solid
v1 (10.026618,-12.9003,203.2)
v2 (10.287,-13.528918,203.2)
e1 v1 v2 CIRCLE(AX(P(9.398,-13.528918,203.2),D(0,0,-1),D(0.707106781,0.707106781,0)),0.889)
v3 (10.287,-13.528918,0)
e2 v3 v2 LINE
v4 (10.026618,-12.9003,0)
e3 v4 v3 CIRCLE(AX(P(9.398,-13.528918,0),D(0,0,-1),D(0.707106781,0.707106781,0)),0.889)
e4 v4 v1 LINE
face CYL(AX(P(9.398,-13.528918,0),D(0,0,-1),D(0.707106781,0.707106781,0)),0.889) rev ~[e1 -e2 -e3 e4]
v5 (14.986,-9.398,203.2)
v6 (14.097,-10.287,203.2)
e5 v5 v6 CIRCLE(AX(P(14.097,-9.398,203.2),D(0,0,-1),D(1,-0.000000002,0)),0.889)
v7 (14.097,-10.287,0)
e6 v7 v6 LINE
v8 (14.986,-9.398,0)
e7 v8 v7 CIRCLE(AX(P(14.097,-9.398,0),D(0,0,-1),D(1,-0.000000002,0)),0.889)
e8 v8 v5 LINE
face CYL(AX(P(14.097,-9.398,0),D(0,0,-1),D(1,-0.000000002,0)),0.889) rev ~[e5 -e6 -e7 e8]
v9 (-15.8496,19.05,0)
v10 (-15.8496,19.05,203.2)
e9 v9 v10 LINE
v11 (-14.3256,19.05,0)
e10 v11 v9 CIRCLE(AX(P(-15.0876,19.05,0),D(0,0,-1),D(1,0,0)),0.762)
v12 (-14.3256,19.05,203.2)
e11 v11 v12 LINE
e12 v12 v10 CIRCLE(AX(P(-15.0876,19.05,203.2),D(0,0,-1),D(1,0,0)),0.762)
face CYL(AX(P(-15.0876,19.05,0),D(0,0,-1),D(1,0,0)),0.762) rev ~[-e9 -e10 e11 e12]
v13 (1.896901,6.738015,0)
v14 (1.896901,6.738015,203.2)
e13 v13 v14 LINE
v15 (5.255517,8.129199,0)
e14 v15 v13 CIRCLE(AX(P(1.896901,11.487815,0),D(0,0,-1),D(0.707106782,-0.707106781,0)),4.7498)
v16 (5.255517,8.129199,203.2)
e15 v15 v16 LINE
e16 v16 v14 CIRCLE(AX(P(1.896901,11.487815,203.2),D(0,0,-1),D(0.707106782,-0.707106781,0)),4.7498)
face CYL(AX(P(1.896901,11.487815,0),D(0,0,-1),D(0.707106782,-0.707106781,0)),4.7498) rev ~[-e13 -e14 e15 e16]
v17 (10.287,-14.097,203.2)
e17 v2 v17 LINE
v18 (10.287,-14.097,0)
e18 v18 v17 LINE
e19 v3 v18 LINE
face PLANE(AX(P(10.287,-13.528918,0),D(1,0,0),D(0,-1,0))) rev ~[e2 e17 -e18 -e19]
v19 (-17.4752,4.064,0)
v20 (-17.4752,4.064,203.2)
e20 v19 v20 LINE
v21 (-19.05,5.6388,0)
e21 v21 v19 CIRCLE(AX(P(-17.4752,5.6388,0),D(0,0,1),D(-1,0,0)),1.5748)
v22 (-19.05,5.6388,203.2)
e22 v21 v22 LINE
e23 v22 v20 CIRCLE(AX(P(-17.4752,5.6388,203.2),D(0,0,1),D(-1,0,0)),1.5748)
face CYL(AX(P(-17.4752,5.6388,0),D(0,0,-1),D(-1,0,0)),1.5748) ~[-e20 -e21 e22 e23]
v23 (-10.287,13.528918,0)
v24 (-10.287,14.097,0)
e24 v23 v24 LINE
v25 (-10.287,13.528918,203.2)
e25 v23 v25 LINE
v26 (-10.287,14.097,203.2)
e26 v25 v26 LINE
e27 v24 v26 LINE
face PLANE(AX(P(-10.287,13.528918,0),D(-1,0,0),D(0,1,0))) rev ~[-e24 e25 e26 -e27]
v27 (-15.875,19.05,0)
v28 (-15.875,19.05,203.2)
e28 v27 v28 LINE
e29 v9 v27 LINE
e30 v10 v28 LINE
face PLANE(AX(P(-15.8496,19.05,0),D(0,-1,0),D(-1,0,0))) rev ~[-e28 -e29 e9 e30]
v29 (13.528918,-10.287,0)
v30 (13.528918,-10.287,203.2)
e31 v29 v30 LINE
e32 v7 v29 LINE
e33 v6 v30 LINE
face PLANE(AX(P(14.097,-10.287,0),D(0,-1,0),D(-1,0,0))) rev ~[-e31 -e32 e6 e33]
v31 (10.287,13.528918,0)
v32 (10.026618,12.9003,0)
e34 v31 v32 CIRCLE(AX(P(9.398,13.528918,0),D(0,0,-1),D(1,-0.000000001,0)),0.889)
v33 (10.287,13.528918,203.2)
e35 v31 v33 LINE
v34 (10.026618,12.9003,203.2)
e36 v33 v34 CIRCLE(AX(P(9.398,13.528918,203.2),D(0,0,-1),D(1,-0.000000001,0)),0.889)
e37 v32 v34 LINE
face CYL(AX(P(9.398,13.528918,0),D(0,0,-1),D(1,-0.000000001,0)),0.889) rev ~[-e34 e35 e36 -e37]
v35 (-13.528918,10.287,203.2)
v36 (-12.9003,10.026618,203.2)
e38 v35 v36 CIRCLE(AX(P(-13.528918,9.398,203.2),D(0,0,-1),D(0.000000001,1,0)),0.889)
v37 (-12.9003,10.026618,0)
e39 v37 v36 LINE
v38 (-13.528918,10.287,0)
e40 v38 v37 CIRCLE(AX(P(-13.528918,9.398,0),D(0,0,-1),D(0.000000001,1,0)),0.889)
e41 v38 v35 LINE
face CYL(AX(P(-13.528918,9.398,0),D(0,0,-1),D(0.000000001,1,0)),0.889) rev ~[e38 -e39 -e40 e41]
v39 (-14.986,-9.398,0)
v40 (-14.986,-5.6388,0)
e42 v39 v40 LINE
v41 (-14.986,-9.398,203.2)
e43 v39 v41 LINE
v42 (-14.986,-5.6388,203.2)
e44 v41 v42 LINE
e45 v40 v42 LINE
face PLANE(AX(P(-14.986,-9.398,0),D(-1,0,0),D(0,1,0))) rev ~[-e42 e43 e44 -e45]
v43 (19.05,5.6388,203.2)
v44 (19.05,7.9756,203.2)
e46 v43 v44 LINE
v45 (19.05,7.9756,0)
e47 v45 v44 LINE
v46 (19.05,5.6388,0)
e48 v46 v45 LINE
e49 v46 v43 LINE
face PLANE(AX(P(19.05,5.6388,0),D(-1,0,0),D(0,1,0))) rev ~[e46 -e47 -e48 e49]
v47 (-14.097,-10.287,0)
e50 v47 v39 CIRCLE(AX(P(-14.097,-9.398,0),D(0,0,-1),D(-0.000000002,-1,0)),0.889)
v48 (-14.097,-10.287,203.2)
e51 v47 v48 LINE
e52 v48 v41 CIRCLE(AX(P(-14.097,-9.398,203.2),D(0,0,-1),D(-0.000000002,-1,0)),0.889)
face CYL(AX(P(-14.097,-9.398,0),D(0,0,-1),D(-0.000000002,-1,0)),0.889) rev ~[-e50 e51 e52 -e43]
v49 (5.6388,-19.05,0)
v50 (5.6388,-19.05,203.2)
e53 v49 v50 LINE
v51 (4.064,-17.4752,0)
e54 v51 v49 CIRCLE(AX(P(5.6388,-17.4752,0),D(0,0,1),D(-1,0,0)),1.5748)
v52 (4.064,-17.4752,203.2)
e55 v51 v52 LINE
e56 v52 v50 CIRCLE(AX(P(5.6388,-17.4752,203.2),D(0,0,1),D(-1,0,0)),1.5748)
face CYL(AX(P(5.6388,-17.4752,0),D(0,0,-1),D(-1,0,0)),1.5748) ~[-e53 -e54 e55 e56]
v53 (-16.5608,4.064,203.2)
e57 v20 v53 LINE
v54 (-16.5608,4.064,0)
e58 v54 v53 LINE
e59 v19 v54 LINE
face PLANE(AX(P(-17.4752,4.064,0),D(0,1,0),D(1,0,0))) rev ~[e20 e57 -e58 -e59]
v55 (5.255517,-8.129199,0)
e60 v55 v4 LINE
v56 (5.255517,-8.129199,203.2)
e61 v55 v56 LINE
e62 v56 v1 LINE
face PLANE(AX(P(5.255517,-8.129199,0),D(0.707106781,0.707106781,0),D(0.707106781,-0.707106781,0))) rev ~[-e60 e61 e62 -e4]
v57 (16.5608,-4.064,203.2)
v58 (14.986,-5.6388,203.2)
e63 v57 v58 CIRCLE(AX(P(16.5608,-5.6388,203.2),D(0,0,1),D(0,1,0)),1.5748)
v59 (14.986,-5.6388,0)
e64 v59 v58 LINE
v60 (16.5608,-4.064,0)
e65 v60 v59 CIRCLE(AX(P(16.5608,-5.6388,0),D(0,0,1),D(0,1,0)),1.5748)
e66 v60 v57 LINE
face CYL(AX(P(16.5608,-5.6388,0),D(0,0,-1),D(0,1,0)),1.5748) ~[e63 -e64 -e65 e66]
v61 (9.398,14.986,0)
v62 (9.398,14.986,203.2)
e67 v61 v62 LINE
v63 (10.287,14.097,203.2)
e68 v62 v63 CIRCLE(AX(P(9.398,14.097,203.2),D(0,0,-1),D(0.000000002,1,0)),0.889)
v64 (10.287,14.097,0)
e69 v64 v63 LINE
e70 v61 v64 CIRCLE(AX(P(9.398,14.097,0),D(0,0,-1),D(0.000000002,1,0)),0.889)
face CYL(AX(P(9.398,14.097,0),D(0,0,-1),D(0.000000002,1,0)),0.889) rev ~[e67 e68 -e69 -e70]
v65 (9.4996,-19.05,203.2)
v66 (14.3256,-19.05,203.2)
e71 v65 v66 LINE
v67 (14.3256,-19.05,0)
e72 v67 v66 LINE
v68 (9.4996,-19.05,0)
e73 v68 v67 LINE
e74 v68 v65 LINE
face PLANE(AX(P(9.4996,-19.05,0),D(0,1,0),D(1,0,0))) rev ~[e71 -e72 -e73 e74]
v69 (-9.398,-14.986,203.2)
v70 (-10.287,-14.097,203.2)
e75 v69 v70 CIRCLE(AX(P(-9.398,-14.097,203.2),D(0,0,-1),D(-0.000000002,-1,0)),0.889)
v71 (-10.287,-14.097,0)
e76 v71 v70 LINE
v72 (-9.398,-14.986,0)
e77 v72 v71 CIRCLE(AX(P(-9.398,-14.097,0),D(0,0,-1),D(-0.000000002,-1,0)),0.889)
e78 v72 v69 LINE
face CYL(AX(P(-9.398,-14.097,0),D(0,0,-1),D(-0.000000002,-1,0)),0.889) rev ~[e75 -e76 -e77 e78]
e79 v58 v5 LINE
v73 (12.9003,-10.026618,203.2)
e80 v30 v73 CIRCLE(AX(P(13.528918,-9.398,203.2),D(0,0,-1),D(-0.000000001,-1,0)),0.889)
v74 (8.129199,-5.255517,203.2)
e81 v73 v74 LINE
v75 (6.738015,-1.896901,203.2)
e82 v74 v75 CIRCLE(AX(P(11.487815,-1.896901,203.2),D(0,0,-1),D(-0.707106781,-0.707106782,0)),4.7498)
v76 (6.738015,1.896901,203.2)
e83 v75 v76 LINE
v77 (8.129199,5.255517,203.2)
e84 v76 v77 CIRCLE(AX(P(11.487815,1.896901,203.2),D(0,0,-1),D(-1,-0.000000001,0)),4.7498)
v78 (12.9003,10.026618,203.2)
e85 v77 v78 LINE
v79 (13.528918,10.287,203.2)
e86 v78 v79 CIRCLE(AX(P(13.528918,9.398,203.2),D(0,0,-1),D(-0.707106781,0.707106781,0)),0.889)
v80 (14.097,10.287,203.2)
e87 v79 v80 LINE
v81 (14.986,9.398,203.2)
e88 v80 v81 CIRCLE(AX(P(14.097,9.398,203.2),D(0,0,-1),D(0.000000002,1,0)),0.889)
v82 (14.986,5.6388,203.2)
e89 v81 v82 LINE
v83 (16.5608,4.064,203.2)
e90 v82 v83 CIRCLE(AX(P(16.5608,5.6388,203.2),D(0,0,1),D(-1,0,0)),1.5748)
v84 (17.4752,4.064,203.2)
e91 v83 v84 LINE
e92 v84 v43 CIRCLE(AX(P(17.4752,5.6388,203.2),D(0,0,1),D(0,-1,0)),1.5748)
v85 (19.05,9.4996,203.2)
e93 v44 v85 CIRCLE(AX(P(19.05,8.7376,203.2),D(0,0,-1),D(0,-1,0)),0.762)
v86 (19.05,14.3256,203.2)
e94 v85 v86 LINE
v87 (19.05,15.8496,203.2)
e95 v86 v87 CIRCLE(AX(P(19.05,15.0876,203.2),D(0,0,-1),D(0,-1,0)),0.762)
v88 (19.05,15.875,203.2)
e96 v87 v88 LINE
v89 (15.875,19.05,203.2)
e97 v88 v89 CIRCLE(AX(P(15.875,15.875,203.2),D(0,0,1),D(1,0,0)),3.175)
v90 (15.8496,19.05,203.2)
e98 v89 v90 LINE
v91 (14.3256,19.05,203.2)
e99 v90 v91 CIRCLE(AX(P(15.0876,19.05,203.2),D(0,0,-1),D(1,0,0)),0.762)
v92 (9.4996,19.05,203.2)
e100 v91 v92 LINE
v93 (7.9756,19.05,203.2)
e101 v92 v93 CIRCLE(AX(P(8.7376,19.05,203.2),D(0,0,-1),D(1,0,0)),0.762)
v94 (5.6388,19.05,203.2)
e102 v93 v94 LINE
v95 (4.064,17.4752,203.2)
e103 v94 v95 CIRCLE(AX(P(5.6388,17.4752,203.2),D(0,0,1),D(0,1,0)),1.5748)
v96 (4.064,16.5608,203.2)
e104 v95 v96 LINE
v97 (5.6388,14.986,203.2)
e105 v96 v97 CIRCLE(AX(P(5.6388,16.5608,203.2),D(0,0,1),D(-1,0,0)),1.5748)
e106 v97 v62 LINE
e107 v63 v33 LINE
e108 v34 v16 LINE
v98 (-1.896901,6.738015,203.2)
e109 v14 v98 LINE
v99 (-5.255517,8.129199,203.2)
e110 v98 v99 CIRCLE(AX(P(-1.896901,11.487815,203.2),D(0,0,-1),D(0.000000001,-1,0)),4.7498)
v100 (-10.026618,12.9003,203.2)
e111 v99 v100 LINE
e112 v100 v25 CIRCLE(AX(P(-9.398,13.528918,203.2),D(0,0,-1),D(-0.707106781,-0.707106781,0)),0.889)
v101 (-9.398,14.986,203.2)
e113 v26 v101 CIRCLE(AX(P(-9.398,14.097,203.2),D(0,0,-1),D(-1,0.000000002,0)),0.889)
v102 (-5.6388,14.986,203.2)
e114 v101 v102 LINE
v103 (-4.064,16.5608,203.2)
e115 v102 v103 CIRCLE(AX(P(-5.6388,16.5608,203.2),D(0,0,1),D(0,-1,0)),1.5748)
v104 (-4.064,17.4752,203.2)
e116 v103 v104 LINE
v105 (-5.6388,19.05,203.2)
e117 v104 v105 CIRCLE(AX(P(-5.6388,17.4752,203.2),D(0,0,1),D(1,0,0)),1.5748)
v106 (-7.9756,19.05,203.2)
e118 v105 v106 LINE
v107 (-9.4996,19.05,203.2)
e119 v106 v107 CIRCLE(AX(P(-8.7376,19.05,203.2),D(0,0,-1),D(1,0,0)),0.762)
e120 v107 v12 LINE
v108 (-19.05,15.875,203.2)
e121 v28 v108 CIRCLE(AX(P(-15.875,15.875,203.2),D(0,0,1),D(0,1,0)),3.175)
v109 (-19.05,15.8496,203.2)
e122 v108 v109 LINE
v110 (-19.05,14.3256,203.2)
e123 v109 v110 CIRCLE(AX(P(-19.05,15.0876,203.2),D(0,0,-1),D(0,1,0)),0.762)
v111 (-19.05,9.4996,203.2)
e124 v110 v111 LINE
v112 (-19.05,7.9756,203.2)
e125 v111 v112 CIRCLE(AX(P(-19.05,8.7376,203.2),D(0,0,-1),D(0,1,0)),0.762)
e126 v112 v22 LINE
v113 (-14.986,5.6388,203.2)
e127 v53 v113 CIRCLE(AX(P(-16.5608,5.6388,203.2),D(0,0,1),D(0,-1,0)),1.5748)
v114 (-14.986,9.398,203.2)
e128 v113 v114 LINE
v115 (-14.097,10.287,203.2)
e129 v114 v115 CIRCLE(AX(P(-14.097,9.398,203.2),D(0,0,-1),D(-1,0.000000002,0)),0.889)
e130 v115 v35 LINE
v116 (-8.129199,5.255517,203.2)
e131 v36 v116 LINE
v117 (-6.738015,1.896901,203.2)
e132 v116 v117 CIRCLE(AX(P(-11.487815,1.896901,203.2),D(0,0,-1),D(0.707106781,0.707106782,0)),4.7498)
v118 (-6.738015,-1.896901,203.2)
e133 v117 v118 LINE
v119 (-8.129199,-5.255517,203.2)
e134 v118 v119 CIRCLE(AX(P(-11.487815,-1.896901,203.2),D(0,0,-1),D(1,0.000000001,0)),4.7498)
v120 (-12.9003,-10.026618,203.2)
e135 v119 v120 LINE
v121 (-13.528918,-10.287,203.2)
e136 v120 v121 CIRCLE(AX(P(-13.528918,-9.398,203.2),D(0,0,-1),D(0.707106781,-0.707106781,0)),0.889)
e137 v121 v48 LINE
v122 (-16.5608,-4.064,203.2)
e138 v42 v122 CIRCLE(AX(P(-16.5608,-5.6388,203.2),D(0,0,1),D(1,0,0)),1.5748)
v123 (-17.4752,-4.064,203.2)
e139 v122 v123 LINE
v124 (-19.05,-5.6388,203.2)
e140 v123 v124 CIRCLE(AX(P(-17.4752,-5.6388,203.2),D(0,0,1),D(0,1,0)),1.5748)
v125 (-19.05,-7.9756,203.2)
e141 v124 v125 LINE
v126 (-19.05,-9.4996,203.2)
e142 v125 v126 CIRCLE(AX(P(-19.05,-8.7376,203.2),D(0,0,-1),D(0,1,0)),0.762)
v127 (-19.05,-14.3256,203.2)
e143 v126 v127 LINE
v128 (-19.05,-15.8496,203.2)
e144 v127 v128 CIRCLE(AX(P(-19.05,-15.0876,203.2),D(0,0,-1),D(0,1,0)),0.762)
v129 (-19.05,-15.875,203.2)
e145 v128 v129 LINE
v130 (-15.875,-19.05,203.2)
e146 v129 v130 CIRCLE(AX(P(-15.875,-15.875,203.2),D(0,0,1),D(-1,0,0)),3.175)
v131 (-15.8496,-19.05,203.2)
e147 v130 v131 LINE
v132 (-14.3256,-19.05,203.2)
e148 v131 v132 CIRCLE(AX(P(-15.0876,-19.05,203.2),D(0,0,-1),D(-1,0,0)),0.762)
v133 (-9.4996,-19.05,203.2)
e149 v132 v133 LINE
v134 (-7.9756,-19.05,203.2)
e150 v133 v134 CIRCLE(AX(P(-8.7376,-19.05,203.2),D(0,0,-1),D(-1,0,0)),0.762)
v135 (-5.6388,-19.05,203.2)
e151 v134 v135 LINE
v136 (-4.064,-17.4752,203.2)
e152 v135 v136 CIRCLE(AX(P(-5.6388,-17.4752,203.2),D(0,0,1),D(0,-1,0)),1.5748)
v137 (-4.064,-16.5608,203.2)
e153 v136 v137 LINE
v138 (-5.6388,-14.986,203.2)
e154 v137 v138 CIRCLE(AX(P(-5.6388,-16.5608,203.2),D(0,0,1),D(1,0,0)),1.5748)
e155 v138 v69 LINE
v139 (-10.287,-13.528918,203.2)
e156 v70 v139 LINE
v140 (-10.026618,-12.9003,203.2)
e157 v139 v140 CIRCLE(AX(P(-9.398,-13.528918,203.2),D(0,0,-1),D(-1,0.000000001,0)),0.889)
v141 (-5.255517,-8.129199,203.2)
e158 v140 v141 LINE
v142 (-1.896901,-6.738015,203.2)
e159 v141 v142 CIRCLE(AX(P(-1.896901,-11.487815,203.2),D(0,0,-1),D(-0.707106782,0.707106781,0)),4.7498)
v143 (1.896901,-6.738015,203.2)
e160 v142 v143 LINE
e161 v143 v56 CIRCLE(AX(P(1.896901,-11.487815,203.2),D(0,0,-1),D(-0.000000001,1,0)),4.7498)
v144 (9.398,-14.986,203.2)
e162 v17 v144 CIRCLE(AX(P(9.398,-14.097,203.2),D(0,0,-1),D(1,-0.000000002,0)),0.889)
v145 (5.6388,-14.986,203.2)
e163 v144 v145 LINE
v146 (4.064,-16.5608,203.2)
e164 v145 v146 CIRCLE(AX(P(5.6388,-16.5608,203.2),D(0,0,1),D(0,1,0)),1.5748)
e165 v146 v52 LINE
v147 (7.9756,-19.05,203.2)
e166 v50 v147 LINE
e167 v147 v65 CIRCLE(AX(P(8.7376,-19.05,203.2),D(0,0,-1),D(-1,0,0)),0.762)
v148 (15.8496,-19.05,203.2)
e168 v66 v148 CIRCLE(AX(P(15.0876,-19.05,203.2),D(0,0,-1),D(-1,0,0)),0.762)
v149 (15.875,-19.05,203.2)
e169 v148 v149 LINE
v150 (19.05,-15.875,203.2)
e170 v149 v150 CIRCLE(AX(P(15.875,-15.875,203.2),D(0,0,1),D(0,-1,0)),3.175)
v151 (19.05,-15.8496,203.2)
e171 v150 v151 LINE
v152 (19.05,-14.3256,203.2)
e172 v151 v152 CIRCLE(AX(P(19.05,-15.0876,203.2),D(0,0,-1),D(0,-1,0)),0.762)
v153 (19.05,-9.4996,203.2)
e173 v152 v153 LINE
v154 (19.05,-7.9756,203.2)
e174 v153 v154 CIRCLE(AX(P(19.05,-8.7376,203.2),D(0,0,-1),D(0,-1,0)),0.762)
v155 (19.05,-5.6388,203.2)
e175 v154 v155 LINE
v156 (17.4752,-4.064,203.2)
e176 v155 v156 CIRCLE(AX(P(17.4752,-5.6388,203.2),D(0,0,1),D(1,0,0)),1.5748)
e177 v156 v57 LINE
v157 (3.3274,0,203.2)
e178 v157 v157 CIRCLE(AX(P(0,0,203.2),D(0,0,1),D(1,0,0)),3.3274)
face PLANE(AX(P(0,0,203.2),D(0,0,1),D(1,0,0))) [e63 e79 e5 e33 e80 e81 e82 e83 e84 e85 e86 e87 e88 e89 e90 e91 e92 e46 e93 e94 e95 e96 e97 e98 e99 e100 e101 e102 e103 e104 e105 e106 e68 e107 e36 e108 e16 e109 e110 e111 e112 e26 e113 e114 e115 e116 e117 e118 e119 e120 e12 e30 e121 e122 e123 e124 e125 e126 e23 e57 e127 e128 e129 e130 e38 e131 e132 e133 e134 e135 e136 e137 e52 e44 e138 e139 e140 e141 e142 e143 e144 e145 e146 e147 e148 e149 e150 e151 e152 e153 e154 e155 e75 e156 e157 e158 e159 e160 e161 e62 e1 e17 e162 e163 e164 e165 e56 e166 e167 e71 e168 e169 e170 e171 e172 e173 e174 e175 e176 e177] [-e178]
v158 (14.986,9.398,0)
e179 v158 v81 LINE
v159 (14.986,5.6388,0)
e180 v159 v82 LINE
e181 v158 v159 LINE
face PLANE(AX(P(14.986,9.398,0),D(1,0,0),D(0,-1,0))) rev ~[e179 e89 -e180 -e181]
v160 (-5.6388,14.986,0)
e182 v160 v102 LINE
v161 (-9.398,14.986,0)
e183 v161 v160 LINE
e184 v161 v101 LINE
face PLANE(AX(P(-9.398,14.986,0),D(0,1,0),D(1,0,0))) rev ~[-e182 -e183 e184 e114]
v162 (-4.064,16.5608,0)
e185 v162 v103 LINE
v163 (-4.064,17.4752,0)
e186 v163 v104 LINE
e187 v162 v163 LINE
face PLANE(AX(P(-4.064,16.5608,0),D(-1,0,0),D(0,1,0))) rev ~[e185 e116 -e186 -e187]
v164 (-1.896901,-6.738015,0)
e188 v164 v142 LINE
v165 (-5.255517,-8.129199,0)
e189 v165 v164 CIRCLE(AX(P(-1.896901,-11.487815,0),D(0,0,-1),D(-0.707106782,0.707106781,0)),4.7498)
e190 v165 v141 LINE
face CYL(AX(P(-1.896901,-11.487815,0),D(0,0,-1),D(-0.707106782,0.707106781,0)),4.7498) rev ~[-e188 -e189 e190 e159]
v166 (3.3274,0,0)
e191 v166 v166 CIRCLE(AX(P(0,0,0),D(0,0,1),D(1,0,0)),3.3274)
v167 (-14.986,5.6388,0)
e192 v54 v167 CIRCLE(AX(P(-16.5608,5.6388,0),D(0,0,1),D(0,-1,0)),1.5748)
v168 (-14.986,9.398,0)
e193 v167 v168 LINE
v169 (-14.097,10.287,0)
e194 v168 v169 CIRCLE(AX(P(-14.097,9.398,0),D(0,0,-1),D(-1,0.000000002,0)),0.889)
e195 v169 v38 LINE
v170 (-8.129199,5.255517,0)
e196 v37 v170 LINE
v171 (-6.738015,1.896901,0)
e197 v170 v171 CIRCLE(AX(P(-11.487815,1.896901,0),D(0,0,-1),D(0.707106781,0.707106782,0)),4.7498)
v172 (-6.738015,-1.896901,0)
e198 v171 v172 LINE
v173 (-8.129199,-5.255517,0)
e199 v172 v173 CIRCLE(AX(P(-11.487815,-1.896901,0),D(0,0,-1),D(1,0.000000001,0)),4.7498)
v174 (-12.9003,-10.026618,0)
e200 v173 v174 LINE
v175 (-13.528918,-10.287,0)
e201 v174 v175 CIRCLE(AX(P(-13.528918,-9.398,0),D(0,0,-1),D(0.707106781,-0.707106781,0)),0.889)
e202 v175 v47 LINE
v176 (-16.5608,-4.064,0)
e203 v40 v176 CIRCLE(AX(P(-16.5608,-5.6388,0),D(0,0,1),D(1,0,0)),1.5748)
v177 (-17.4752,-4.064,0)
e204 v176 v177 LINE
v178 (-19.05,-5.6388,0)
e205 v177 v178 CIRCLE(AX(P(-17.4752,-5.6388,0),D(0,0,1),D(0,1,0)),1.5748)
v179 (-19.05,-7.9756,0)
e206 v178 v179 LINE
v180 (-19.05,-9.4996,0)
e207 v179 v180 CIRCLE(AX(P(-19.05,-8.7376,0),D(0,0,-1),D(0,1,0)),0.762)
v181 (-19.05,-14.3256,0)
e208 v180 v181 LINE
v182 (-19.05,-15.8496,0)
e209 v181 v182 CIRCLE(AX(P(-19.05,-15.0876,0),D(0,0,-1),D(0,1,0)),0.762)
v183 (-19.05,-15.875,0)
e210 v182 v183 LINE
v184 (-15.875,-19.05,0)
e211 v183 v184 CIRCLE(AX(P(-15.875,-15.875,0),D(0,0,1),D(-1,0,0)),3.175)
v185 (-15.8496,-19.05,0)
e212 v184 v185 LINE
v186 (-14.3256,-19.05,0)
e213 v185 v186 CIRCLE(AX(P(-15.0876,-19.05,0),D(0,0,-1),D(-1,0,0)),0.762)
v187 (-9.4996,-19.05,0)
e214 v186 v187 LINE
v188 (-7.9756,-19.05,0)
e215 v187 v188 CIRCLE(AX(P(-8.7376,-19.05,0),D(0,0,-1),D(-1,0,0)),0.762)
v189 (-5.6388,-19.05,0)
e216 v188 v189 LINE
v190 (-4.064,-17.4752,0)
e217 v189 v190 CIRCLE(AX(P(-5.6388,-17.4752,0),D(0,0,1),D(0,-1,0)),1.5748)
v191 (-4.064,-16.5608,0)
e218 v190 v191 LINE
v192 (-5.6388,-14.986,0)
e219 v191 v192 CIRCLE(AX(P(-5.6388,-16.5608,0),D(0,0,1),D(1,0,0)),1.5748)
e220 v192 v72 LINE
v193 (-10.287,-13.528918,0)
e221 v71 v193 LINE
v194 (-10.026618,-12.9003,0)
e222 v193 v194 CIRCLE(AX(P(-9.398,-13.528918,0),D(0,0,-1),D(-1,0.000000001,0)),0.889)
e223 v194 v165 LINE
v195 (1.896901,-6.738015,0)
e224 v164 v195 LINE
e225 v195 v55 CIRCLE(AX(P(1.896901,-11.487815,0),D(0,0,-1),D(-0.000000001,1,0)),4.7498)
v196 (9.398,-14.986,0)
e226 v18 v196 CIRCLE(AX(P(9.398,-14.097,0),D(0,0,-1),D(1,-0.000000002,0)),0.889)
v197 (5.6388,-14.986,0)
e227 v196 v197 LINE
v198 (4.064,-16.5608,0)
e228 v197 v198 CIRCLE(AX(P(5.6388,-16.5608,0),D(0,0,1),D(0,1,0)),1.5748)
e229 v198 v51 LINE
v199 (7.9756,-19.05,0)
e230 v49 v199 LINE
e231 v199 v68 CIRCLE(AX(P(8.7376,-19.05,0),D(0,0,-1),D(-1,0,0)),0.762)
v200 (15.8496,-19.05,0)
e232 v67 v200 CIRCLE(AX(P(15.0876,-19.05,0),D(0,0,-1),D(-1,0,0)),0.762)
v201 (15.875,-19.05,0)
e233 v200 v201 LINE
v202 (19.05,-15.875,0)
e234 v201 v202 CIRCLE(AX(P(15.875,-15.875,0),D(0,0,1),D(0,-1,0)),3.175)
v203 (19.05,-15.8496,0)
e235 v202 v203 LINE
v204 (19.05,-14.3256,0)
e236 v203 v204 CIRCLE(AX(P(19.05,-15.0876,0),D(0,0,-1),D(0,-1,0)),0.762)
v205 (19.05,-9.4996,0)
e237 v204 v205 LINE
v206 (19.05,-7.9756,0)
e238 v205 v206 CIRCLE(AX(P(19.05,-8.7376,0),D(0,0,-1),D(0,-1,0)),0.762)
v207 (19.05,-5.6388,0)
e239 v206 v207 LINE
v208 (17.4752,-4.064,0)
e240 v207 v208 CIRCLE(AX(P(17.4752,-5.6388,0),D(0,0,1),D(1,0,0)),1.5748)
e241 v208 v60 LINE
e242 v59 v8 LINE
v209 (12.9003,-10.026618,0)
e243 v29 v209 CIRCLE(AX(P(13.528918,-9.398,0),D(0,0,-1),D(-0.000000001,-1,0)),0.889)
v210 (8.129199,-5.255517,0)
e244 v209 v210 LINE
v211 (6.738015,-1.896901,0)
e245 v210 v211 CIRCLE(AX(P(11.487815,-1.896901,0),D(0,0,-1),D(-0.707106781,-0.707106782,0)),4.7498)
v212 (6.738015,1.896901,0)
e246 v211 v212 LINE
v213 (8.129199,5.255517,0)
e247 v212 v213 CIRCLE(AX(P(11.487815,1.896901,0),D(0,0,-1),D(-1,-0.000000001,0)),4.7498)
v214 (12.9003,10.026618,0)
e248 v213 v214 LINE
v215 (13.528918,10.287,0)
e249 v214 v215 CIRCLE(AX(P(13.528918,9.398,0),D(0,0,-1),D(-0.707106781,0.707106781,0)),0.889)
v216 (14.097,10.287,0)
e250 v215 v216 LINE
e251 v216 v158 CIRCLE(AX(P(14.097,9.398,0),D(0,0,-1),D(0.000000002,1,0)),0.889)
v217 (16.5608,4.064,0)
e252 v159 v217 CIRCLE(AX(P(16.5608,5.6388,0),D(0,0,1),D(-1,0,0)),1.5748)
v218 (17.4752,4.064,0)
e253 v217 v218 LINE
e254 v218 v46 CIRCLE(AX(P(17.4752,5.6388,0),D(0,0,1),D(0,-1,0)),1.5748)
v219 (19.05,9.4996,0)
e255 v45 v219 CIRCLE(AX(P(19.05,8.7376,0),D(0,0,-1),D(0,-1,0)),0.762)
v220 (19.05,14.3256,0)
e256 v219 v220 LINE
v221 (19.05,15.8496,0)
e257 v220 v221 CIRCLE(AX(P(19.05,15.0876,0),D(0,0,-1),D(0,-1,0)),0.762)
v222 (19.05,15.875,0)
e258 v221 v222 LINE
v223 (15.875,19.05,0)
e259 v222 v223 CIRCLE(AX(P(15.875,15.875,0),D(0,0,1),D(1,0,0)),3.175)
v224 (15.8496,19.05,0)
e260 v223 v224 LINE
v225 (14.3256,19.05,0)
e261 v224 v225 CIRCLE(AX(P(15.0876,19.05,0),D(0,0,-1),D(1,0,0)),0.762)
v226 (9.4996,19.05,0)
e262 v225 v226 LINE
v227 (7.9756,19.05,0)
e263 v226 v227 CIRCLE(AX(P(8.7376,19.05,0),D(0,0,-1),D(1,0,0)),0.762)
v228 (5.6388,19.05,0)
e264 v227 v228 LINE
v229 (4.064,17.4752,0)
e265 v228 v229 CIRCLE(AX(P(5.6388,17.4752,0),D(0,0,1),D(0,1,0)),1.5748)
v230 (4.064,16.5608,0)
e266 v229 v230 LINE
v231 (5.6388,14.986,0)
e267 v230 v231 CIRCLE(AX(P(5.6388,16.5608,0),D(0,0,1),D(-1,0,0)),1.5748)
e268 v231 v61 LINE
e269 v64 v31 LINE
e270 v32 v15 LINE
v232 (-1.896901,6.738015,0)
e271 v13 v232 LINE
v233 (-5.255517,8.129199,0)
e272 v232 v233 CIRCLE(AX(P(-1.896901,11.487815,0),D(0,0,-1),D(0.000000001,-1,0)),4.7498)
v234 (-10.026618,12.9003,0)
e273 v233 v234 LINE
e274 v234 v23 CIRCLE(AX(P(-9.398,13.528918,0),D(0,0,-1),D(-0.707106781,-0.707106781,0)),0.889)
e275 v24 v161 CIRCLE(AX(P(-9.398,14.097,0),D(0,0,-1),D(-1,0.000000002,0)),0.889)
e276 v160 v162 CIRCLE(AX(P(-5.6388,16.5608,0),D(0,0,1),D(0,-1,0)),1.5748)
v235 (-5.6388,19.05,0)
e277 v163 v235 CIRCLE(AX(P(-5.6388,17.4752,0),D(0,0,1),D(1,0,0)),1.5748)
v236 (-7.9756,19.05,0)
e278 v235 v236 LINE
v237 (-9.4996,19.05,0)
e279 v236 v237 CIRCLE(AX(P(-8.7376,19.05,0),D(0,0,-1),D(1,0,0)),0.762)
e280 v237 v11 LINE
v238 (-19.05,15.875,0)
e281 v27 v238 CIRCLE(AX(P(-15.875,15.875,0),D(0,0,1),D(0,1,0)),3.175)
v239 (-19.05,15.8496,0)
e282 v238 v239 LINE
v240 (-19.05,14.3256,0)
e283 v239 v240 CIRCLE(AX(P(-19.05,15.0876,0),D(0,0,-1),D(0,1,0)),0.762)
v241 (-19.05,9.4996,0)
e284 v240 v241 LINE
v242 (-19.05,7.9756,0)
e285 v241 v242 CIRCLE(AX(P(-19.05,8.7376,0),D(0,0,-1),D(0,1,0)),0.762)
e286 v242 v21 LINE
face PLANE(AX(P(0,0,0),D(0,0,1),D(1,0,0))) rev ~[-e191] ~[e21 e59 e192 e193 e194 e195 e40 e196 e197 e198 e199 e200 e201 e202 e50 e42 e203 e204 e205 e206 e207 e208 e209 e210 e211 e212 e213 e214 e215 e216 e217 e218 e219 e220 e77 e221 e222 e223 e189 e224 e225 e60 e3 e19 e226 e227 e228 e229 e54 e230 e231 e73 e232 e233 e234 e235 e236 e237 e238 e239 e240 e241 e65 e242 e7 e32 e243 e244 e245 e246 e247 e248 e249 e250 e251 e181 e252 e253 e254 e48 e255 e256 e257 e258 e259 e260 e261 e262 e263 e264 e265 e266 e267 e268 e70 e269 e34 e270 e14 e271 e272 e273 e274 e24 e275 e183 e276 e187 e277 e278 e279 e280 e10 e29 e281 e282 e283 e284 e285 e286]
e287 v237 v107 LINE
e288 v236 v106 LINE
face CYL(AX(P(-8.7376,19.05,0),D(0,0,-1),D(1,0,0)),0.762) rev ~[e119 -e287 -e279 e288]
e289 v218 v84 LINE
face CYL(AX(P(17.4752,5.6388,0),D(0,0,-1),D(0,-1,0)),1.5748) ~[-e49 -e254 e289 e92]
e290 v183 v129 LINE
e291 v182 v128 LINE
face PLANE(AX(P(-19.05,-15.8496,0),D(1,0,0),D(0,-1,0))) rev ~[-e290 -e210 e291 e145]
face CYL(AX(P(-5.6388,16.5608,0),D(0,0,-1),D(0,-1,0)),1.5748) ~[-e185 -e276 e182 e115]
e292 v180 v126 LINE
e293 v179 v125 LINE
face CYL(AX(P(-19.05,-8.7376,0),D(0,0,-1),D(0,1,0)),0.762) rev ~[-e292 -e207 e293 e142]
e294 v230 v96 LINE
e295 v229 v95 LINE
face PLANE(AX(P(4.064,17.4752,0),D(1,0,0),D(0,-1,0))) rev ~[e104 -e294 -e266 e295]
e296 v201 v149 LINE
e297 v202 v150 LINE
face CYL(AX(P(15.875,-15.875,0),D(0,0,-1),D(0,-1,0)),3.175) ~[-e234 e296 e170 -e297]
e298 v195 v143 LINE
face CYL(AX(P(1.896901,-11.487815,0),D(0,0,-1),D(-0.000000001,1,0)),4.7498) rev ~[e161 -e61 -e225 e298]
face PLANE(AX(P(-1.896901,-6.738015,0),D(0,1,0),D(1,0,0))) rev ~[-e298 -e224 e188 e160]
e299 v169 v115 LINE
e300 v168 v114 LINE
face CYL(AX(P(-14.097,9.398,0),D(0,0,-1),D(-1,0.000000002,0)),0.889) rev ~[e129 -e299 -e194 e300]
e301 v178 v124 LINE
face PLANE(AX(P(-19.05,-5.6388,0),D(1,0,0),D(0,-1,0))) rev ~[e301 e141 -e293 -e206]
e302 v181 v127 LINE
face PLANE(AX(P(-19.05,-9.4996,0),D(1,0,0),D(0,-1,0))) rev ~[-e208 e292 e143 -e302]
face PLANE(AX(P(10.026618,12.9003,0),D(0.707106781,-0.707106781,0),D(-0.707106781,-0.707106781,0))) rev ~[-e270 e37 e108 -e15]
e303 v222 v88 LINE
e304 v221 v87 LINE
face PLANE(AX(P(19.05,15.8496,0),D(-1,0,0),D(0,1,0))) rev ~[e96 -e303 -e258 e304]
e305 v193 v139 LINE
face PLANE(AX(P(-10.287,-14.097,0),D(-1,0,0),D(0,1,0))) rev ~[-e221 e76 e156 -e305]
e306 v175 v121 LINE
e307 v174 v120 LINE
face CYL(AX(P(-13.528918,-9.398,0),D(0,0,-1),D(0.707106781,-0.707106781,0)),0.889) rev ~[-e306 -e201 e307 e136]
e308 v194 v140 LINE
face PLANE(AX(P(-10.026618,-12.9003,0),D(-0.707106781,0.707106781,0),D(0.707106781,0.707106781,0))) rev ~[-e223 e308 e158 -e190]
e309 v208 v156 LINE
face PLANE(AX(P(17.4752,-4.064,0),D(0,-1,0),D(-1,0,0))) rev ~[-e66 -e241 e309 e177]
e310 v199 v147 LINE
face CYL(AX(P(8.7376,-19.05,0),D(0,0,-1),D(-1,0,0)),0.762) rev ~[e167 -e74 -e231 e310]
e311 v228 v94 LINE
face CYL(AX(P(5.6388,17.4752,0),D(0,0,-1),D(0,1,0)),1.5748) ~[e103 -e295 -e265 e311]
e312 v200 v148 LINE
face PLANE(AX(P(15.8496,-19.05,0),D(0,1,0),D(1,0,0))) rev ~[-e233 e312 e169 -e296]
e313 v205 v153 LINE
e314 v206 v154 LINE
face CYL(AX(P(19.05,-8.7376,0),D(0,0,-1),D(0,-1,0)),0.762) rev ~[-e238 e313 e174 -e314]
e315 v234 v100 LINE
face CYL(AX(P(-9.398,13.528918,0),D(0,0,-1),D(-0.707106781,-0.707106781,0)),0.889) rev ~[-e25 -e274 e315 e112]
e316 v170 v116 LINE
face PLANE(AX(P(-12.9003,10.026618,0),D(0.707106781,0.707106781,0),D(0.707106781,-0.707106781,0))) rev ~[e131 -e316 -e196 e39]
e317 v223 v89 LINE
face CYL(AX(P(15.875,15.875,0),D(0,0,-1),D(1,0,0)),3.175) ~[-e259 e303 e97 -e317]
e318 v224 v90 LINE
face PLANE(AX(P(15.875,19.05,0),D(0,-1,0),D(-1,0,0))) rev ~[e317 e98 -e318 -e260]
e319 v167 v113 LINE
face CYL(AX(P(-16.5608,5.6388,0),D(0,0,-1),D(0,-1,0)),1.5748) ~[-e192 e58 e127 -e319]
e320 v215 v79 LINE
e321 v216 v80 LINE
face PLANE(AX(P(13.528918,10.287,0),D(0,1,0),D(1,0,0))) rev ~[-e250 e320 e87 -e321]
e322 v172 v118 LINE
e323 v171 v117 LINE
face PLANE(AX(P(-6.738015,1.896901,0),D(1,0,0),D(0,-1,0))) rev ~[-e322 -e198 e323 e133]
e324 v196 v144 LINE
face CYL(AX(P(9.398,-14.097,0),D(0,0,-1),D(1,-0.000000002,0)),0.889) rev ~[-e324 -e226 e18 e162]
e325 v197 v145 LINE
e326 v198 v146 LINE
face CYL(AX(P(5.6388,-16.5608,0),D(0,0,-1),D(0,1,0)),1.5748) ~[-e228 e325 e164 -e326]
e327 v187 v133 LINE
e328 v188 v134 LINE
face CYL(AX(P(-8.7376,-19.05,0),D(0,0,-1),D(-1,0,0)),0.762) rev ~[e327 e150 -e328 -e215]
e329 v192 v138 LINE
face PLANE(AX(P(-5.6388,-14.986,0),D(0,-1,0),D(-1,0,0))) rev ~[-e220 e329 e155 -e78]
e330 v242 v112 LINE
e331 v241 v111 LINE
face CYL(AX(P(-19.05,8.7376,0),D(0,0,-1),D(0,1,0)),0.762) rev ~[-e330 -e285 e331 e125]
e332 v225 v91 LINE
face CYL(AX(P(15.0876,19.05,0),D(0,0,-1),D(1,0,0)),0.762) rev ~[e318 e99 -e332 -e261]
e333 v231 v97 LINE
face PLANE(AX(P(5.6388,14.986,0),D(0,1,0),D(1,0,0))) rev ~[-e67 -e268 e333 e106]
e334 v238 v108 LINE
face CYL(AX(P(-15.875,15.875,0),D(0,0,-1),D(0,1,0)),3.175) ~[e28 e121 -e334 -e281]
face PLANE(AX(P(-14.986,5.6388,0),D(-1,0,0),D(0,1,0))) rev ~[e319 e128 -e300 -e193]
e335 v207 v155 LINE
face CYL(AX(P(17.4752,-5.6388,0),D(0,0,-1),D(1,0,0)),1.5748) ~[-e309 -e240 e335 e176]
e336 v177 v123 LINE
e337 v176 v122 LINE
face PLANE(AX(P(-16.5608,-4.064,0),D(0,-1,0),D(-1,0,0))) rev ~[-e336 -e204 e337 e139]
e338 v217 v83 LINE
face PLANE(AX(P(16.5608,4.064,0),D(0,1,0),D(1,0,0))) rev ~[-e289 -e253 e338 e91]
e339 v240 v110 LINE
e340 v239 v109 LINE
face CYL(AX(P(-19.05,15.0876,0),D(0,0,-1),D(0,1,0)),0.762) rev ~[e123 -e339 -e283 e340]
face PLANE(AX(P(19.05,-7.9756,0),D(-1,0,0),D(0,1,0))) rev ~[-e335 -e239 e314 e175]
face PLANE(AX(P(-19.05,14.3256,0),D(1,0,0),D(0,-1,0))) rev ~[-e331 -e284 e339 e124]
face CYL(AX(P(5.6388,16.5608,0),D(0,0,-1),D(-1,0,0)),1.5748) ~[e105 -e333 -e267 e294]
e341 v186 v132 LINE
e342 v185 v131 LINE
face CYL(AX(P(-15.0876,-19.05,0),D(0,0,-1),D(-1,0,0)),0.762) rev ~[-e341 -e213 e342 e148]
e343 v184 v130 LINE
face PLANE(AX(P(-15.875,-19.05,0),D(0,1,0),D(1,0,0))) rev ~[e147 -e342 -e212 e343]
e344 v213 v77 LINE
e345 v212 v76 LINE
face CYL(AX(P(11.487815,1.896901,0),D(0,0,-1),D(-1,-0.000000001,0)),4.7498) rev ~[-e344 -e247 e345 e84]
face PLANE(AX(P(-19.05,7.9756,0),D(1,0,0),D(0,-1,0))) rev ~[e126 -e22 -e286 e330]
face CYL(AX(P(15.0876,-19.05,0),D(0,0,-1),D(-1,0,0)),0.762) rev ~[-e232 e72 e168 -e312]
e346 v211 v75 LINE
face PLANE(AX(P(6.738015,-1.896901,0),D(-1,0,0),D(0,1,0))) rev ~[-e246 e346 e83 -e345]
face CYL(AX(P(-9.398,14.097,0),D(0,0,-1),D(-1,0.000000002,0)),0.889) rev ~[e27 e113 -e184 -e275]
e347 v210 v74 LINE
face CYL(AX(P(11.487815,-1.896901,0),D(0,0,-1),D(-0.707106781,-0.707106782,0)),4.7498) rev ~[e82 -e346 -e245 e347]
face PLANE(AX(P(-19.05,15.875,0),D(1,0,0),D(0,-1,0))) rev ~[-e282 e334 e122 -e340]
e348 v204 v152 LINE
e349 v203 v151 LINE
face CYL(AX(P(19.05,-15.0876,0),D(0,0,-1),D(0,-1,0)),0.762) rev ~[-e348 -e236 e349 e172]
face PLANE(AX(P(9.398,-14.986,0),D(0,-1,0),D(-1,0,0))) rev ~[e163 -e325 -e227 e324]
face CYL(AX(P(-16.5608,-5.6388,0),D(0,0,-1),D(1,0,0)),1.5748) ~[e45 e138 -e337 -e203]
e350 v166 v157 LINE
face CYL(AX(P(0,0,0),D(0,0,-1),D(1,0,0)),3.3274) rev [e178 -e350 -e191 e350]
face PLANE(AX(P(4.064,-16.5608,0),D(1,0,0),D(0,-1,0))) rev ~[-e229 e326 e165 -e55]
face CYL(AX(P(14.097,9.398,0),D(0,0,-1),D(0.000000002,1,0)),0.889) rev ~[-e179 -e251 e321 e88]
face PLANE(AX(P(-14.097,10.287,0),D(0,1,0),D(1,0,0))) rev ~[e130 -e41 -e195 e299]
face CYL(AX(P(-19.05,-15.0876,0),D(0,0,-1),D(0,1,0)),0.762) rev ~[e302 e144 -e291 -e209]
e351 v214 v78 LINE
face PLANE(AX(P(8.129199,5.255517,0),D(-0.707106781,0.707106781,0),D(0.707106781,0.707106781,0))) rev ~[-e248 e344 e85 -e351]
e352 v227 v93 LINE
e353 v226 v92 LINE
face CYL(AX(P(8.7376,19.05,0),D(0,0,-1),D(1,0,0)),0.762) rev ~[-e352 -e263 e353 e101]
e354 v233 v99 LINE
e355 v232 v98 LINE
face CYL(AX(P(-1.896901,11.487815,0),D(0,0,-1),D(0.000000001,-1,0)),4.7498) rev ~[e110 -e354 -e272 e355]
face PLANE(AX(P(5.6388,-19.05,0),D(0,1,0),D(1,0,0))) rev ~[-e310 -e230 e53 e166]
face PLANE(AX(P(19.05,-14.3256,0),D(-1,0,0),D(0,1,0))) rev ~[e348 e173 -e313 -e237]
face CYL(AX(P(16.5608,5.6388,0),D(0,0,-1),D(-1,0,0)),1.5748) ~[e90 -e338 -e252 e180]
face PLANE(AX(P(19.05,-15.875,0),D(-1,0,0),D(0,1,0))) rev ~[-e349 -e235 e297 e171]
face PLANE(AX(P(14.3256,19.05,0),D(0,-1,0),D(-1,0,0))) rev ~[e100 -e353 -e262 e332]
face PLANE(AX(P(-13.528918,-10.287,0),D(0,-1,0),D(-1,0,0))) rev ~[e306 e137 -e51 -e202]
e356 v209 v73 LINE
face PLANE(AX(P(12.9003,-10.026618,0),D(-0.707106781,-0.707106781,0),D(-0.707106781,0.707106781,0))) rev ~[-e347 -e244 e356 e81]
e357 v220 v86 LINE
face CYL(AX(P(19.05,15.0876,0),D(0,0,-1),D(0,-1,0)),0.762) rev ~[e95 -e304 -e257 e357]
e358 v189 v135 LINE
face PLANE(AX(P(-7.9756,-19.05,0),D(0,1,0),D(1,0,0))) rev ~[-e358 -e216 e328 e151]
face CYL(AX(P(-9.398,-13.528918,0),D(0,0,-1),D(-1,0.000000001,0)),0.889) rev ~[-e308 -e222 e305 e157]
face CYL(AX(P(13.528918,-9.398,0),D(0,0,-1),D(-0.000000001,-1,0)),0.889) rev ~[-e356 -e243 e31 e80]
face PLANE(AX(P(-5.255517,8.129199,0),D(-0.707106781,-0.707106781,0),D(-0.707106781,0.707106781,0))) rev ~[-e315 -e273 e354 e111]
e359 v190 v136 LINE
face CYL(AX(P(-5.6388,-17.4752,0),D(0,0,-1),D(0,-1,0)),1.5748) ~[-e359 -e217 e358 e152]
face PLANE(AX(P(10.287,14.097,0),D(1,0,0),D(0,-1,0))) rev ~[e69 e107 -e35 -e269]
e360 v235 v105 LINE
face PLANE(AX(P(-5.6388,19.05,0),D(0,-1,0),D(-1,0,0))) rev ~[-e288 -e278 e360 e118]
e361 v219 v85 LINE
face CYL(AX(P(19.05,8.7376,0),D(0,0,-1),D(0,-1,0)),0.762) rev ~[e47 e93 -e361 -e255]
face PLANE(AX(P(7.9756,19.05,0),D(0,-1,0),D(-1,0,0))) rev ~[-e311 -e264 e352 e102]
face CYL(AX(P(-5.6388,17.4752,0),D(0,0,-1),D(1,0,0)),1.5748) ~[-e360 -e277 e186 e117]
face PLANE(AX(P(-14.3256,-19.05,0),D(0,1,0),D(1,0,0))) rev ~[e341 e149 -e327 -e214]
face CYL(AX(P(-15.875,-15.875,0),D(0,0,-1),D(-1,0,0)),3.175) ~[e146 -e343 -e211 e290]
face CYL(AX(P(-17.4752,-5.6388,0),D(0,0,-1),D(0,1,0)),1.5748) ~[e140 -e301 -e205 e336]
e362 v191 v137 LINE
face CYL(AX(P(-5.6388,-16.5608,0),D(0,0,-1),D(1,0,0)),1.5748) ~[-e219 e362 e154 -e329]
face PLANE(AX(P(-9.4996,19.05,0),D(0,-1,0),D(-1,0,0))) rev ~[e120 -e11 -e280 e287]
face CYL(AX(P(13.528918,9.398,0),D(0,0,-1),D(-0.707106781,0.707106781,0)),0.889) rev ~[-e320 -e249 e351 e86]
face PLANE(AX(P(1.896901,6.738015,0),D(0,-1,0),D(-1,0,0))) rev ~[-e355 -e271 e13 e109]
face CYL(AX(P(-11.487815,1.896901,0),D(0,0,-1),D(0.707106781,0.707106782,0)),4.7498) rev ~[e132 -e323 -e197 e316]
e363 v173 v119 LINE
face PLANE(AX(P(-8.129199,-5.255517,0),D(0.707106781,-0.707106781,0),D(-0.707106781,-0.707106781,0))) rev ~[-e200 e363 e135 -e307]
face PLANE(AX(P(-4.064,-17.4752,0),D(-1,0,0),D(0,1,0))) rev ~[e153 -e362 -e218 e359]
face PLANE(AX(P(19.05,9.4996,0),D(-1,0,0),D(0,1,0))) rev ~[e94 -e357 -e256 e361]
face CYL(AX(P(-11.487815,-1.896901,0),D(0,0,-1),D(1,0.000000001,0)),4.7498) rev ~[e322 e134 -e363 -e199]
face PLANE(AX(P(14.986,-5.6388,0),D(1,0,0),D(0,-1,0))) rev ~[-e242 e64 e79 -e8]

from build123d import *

# Parameters (mm, degrees)
SKETCH1_R           = 3.3274
BOSS_EXTRUDE1_DEPTH = 203.2


with BuildPart() as part:
    # Sketch1 → Boss-Extrude1 (new body)
    with BuildSketch(Plane.XY):
        with BuildLine():
            Line((-14.097, 10.287), (-13.528918, 10.287))
            ThreePointArc((-13.528918, 10.287), (-13.188712428, 10.219328904), (-12.900300071, 10.026617928))
            Line((-12.900300071, 10.026617928), (-8.129198975, 5.255516832))
            ThreePointArc((-8.129198975, 5.255516832), (-7.09957176, 3.71457081), (-6.738014764, 1.896901043))
            Line((-6.738014764, 1.896901043), (-6.738014764, -1.896901043))
            ThreePointArc((-6.738014764, -1.896901043), (-7.09957176, -3.71457081), (-8.129198975, -5.255516832))
            Line((-8.129198975, -5.255516832), (-12.900300071, -10.026617928))
            ThreePointArc((-12.900300071, -10.026617928), (-13.188712428, -10.219328904), (-13.528918, -10.287))
            Line((-13.528918, -10.287), (-14.097, -10.287))
            ThreePointArc((-14.097, -10.287), (-14.725617928, -10.026617928), (-14.986, -9.398))
            Line((-14.986, -9.398), (-14.986, -5.6388))
            ThreePointArc((-14.986, -5.6388), (-15.447248241, -4.525248241), (-16.5608, -4.064))
            Line((-16.5608, -4.064), (-17.4752, -4.064))
            ThreePointArc((-17.4752, -4.064), (-18.588751759, -4.525248241), (-19.05, -5.6388))
            Line((-19.05, -5.6388), (-19.05, -7.9756))
            ThreePointArc((-19.05, -7.9756), (-18.288, -8.7376), (-19.05, -9.4996))
            Line((-19.05, -9.4996), (-19.05, -14.3256))
            ThreePointArc((-19.05, -14.3256), (-18.288, -15.0876), (-19.05, -15.8496))
            Line((-19.05, -15.8496), (-19.05, -15.875))
            ThreePointArc((-19.05, -15.875), (-18.12006403, -18.12006403), (-15.875, -19.05))
            Line((-15.875, -19.05), (-15.8496, -19.05))
            ThreePointArc((-15.8496, -19.05), (-15.0876, -18.288), (-14.3256, -19.05))
            Line((-14.3256, -19.05), (-9.4996, -19.05))
            ThreePointArc((-9.4996, -19.05), (-8.7376, -18.288), (-7.9756, -19.05))
            Line((-7.9756, -19.05), (-5.6388, -19.05))
            ThreePointArc((-5.6388, -19.05), (-4.525248241, -18.588751759), (-4.064, -17.4752))
            Line((-4.064, -17.4752), (-4.064, -16.5608))
            ThreePointArc((-4.064, -16.5608), (-4.525248241, -15.447248241), (-5.6388, -14.986))
            Line((-5.6388, -14.986), (-9.398, -14.986))
            ThreePointArc((-9.398, -14.986), (-10.026617928, -14.725617928), (-10.287, -14.097))
            Line((-10.287, -14.097), (-10.287, -13.528918))
            ThreePointArc((-10.287, -13.528918), (-10.219328904, -13.188712428), (-10.026617928, -12.900300071))
            Line((-10.026617928, -12.900300071), (-5.255516832, -8.129198975))
            ThreePointArc((-5.255516832, -8.129198975), (-3.71457081, -7.09957176), (-1.896901043, -6.738014764))
            Line((-1.896901043, -6.738014764), (1.896901043, -6.738014764))
            ThreePointArc((1.896901043, -6.738014764), (3.71457081, -7.09957176), (5.255516832, -8.129198975))
            Line((5.255516832, -8.129198975), (10.026617928, -12.900300071))
            ThreePointArc((10.026617928, -12.900300071), (10.219328904, -13.188712428), (10.287, -13.528918))
            Line((10.287, -13.528918), (10.287, -14.097))
            ThreePointArc((10.287, -14.097), (10.026617928, -14.725617928), (9.398, -14.986))
            Line((9.398, -14.986), (5.6388, -14.986))
            ThreePointArc((5.6388, -14.986), (4.525248241, -15.447248241), (4.064, -16.5608))
            Line((4.064, -16.5608), (4.064, -17.4752))
            ThreePointArc((4.064, -17.4752), (4.525248241, -18.588751759), (5.6388, -19.05))
            Line((5.6388, -19.05), (7.9756, -19.05))
            ThreePointArc((7.9756, -19.05), (8.7376, -18.288), (9.4996, -19.05))
            Line((9.4996, -19.05), (14.3256, -19.05))
            ThreePointArc((14.3256, -19.05), (15.0876, -18.288), (15.8496, -19.05))
            Line((15.8496, -19.05), (15.875, -19.05))
            ThreePointArc((15.875, -19.05), (18.12006403, -18.12006403), (19.05, -15.875))
            Line((19.05, -15.875), (19.05, -15.8496))
            ThreePointArc((19.05, -15.8496), (18.288, -15.0876), (19.05, -14.3256))
            Line((19.05, -14.3256), (19.05, -9.4996))
            ThreePointArc((19.05, -9.4996), (18.288, -8.7376), (19.05, -7.9756))
            Line((19.05, -7.9756), (19.05, -5.6388))
            ThreePointArc((19.05, -5.6388), (18.588751759, -4.525248241), (17.4752, -4.064))
            Line((17.4752, -4.064), (16.5608, -4.064))
            ThreePointArc((16.5608, -4.064), (15.447248241, -4.525248241), (14.986, -5.6388))
            Line((14.986, -5.6388), (14.986, -9.398))
            ThreePointArc((14.986, -9.398), (14.725617928, -10.026617928), (14.097, -10.287))
            Line((14.097, -10.287), (13.528918, -10.287))
            ThreePointArc((13.528918, -10.287), (13.188712428, -10.219328904), (12.900300071, -10.026617928))
            Line((12.900300071, -10.026617928), (8.129198975, -5.255516832))
            ThreePointArc((8.129198975, -5.255516832), (7.09957176, -3.71457081), (6.738014764, -1.896901043))
            Line((6.738014764, -1.896901043), (6.738014764, 1.896901043))
            ThreePointArc((6.738014764, 1.896901043), (7.09957176, 3.71457081), (8.129198975, 5.255516832))
            Line((8.129198975, 5.255516832), (12.900300071, 10.026617928))
            ThreePointArc((12.900300071, 10.026617928), (13.188712428, 10.219328904), (13.528918, 10.287))
            Line((13.528918, 10.287), (14.097, 10.287))
            ThreePointArc((14.097, 10.287), (14.725617928, 10.026617928), (14.986, 9.398))
            Line((14.986, 9.398), (14.986, 5.6388))
            ThreePointArc((14.986, 5.6388), (15.447248241, 4.525248241), (16.5608, 4.064))
            Line((16.5608, 4.064), (17.4752, 4.064))
            ThreePointArc((17.4752, 4.064), (18.588751759, 4.525248241), (19.05, 5.6388))
            Line((19.05, 5.6388), (19.05, 7.9756))
            ThreePointArc((19.05, 7.9756), (18.288, 8.7376), (19.05, 9.4996))
            Line((19.05, 9.4996), (19.05, 14.3256))
            ThreePointArc((19.05, 14.3256), (18.288, 15.0876), (19.05, 15.8496))
            Line((19.05, 15.8496), (19.05, 15.875))
            ThreePointArc((19.05, 15.875), (18.12006403, 18.12006403), (15.875, 19.05))
            Line((15.875, 19.05), (15.8496, 19.05))
            ThreePointArc((15.8496, 19.05), (15.0876, 18.288), (14.3256, 19.05))
            Line((14.3256, 19.05), (9.4996, 19.05))
            ThreePointArc((9.4996, 19.05), (8.7376, 18.288), (7.9756, 19.05))
            Line((7.9756, 19.05), (5.6388, 19.05))
            ThreePointArc((5.6388, 19.05), (4.525248241, 18.588751759), (4.064, 17.4752))
            Line((4.064, 17.4752), (4.064, 16.5608))
            ThreePointArc((4.064, 16.5608), (4.525248241, 15.447248241), (5.6388, 14.986))
            Line((5.6388, 14.986), (9.398, 14.986))
            ThreePointArc((9.398, 14.986), (10.026617928, 14.725617928), (10.287, 14.097))
            Line((10.287, 14.097), (10.287, 13.528918))
            ThreePointArc((10.287, 13.528918), (10.219328904, 13.188712428), (10.026617928, 12.900300071))
            Line((10.026617928, 12.900300071), (5.255516832, 8.129198975))
            ThreePointArc((5.255516832, 8.129198975), (3.71457081, 7.09957176), (1.896901043, 6.738014764))
            Line((1.896901043, 6.738014764), (-1.896901043, 6.738014764))
            ThreePointArc((-1.896901043, 6.738014764), (-3.71457081, 7.09957176), (-5.255516832, 8.129198975))
            Line((-5.255516832, 8.129198975), (-10.026617928, 12.900300071))
            ThreePointArc((-10.026617928, 12.900300071), (-10.219328904, 13.188712428), (-10.287, 13.528918))
            Line((-10.287, 13.528918), (-10.287, 14.097))
            ThreePointArc((-10.287, 14.097), (-10.026617928, 14.725617928), (-9.398, 14.986))
            Line((-9.398, 14.986), (-5.6388, 14.986))
            ThreePointArc((-5.6388, 14.986), (-4.525248241, 15.447248241), (-4.064, 16.5608))
            Line((-4.064, 16.5608), (-4.064, 17.4752))
            ThreePointArc((-4.064, 17.4752), (-4.525248241, 18.588751759), (-5.6388, 19.05))
            Line((-5.6388, 19.05), (-7.9756, 19.05))
            ThreePointArc((-7.9756, 19.05), (-8.7376, 18.288), (-9.4996, 19.05))
            Line((-9.4996, 19.05), (-14.3256, 19.05))
            ThreePointArc((-14.3256, 19.05), (-15.0876, 18.288), (-15.8496, 19.05))
            Line((-15.8496, 19.05), (-15.875, 19.05))
            ThreePointArc((-15.875, 19.05), (-18.12006403, 18.12006403), (-19.05, 15.875))
            Line((-19.05, 15.875), (-19.05, 15.8496))
            ThreePointArc((-19.05, 15.8496), (-18.288, 15.0876), (-19.05, 14.3256))
            Line((-19.05, 14.3256), (-19.05, 9.4996))
            ThreePointArc((-19.05, 9.4996), (-18.288, 8.7376), (-19.05, 7.9756))
            Line((-19.05, 7.9756), (-19.05, 5.6388))
            ThreePointArc((-19.05, 5.6388), (-18.588751759, 4.525248241), (-17.4752, 4.064))
            Line((-17.4752, 4.064), (-16.5608, 4.064))
            ThreePointArc((-16.5608, 4.064), (-15.447248241, 4.525248241), (-14.986, 5.6388))
            Line((-14.986, 5.6388), (-14.986, 9.398))
            ThreePointArc((-14.986, 9.398), (-14.725617928, 10.026617928), (-14.097, 10.287))
        make_face()
        Circle(SKETCH1_R, mode=Mode.SUBTRACT)
    extrude(amount=BOSS_EXTRUDE1_DEPTH)


solid = part.part
